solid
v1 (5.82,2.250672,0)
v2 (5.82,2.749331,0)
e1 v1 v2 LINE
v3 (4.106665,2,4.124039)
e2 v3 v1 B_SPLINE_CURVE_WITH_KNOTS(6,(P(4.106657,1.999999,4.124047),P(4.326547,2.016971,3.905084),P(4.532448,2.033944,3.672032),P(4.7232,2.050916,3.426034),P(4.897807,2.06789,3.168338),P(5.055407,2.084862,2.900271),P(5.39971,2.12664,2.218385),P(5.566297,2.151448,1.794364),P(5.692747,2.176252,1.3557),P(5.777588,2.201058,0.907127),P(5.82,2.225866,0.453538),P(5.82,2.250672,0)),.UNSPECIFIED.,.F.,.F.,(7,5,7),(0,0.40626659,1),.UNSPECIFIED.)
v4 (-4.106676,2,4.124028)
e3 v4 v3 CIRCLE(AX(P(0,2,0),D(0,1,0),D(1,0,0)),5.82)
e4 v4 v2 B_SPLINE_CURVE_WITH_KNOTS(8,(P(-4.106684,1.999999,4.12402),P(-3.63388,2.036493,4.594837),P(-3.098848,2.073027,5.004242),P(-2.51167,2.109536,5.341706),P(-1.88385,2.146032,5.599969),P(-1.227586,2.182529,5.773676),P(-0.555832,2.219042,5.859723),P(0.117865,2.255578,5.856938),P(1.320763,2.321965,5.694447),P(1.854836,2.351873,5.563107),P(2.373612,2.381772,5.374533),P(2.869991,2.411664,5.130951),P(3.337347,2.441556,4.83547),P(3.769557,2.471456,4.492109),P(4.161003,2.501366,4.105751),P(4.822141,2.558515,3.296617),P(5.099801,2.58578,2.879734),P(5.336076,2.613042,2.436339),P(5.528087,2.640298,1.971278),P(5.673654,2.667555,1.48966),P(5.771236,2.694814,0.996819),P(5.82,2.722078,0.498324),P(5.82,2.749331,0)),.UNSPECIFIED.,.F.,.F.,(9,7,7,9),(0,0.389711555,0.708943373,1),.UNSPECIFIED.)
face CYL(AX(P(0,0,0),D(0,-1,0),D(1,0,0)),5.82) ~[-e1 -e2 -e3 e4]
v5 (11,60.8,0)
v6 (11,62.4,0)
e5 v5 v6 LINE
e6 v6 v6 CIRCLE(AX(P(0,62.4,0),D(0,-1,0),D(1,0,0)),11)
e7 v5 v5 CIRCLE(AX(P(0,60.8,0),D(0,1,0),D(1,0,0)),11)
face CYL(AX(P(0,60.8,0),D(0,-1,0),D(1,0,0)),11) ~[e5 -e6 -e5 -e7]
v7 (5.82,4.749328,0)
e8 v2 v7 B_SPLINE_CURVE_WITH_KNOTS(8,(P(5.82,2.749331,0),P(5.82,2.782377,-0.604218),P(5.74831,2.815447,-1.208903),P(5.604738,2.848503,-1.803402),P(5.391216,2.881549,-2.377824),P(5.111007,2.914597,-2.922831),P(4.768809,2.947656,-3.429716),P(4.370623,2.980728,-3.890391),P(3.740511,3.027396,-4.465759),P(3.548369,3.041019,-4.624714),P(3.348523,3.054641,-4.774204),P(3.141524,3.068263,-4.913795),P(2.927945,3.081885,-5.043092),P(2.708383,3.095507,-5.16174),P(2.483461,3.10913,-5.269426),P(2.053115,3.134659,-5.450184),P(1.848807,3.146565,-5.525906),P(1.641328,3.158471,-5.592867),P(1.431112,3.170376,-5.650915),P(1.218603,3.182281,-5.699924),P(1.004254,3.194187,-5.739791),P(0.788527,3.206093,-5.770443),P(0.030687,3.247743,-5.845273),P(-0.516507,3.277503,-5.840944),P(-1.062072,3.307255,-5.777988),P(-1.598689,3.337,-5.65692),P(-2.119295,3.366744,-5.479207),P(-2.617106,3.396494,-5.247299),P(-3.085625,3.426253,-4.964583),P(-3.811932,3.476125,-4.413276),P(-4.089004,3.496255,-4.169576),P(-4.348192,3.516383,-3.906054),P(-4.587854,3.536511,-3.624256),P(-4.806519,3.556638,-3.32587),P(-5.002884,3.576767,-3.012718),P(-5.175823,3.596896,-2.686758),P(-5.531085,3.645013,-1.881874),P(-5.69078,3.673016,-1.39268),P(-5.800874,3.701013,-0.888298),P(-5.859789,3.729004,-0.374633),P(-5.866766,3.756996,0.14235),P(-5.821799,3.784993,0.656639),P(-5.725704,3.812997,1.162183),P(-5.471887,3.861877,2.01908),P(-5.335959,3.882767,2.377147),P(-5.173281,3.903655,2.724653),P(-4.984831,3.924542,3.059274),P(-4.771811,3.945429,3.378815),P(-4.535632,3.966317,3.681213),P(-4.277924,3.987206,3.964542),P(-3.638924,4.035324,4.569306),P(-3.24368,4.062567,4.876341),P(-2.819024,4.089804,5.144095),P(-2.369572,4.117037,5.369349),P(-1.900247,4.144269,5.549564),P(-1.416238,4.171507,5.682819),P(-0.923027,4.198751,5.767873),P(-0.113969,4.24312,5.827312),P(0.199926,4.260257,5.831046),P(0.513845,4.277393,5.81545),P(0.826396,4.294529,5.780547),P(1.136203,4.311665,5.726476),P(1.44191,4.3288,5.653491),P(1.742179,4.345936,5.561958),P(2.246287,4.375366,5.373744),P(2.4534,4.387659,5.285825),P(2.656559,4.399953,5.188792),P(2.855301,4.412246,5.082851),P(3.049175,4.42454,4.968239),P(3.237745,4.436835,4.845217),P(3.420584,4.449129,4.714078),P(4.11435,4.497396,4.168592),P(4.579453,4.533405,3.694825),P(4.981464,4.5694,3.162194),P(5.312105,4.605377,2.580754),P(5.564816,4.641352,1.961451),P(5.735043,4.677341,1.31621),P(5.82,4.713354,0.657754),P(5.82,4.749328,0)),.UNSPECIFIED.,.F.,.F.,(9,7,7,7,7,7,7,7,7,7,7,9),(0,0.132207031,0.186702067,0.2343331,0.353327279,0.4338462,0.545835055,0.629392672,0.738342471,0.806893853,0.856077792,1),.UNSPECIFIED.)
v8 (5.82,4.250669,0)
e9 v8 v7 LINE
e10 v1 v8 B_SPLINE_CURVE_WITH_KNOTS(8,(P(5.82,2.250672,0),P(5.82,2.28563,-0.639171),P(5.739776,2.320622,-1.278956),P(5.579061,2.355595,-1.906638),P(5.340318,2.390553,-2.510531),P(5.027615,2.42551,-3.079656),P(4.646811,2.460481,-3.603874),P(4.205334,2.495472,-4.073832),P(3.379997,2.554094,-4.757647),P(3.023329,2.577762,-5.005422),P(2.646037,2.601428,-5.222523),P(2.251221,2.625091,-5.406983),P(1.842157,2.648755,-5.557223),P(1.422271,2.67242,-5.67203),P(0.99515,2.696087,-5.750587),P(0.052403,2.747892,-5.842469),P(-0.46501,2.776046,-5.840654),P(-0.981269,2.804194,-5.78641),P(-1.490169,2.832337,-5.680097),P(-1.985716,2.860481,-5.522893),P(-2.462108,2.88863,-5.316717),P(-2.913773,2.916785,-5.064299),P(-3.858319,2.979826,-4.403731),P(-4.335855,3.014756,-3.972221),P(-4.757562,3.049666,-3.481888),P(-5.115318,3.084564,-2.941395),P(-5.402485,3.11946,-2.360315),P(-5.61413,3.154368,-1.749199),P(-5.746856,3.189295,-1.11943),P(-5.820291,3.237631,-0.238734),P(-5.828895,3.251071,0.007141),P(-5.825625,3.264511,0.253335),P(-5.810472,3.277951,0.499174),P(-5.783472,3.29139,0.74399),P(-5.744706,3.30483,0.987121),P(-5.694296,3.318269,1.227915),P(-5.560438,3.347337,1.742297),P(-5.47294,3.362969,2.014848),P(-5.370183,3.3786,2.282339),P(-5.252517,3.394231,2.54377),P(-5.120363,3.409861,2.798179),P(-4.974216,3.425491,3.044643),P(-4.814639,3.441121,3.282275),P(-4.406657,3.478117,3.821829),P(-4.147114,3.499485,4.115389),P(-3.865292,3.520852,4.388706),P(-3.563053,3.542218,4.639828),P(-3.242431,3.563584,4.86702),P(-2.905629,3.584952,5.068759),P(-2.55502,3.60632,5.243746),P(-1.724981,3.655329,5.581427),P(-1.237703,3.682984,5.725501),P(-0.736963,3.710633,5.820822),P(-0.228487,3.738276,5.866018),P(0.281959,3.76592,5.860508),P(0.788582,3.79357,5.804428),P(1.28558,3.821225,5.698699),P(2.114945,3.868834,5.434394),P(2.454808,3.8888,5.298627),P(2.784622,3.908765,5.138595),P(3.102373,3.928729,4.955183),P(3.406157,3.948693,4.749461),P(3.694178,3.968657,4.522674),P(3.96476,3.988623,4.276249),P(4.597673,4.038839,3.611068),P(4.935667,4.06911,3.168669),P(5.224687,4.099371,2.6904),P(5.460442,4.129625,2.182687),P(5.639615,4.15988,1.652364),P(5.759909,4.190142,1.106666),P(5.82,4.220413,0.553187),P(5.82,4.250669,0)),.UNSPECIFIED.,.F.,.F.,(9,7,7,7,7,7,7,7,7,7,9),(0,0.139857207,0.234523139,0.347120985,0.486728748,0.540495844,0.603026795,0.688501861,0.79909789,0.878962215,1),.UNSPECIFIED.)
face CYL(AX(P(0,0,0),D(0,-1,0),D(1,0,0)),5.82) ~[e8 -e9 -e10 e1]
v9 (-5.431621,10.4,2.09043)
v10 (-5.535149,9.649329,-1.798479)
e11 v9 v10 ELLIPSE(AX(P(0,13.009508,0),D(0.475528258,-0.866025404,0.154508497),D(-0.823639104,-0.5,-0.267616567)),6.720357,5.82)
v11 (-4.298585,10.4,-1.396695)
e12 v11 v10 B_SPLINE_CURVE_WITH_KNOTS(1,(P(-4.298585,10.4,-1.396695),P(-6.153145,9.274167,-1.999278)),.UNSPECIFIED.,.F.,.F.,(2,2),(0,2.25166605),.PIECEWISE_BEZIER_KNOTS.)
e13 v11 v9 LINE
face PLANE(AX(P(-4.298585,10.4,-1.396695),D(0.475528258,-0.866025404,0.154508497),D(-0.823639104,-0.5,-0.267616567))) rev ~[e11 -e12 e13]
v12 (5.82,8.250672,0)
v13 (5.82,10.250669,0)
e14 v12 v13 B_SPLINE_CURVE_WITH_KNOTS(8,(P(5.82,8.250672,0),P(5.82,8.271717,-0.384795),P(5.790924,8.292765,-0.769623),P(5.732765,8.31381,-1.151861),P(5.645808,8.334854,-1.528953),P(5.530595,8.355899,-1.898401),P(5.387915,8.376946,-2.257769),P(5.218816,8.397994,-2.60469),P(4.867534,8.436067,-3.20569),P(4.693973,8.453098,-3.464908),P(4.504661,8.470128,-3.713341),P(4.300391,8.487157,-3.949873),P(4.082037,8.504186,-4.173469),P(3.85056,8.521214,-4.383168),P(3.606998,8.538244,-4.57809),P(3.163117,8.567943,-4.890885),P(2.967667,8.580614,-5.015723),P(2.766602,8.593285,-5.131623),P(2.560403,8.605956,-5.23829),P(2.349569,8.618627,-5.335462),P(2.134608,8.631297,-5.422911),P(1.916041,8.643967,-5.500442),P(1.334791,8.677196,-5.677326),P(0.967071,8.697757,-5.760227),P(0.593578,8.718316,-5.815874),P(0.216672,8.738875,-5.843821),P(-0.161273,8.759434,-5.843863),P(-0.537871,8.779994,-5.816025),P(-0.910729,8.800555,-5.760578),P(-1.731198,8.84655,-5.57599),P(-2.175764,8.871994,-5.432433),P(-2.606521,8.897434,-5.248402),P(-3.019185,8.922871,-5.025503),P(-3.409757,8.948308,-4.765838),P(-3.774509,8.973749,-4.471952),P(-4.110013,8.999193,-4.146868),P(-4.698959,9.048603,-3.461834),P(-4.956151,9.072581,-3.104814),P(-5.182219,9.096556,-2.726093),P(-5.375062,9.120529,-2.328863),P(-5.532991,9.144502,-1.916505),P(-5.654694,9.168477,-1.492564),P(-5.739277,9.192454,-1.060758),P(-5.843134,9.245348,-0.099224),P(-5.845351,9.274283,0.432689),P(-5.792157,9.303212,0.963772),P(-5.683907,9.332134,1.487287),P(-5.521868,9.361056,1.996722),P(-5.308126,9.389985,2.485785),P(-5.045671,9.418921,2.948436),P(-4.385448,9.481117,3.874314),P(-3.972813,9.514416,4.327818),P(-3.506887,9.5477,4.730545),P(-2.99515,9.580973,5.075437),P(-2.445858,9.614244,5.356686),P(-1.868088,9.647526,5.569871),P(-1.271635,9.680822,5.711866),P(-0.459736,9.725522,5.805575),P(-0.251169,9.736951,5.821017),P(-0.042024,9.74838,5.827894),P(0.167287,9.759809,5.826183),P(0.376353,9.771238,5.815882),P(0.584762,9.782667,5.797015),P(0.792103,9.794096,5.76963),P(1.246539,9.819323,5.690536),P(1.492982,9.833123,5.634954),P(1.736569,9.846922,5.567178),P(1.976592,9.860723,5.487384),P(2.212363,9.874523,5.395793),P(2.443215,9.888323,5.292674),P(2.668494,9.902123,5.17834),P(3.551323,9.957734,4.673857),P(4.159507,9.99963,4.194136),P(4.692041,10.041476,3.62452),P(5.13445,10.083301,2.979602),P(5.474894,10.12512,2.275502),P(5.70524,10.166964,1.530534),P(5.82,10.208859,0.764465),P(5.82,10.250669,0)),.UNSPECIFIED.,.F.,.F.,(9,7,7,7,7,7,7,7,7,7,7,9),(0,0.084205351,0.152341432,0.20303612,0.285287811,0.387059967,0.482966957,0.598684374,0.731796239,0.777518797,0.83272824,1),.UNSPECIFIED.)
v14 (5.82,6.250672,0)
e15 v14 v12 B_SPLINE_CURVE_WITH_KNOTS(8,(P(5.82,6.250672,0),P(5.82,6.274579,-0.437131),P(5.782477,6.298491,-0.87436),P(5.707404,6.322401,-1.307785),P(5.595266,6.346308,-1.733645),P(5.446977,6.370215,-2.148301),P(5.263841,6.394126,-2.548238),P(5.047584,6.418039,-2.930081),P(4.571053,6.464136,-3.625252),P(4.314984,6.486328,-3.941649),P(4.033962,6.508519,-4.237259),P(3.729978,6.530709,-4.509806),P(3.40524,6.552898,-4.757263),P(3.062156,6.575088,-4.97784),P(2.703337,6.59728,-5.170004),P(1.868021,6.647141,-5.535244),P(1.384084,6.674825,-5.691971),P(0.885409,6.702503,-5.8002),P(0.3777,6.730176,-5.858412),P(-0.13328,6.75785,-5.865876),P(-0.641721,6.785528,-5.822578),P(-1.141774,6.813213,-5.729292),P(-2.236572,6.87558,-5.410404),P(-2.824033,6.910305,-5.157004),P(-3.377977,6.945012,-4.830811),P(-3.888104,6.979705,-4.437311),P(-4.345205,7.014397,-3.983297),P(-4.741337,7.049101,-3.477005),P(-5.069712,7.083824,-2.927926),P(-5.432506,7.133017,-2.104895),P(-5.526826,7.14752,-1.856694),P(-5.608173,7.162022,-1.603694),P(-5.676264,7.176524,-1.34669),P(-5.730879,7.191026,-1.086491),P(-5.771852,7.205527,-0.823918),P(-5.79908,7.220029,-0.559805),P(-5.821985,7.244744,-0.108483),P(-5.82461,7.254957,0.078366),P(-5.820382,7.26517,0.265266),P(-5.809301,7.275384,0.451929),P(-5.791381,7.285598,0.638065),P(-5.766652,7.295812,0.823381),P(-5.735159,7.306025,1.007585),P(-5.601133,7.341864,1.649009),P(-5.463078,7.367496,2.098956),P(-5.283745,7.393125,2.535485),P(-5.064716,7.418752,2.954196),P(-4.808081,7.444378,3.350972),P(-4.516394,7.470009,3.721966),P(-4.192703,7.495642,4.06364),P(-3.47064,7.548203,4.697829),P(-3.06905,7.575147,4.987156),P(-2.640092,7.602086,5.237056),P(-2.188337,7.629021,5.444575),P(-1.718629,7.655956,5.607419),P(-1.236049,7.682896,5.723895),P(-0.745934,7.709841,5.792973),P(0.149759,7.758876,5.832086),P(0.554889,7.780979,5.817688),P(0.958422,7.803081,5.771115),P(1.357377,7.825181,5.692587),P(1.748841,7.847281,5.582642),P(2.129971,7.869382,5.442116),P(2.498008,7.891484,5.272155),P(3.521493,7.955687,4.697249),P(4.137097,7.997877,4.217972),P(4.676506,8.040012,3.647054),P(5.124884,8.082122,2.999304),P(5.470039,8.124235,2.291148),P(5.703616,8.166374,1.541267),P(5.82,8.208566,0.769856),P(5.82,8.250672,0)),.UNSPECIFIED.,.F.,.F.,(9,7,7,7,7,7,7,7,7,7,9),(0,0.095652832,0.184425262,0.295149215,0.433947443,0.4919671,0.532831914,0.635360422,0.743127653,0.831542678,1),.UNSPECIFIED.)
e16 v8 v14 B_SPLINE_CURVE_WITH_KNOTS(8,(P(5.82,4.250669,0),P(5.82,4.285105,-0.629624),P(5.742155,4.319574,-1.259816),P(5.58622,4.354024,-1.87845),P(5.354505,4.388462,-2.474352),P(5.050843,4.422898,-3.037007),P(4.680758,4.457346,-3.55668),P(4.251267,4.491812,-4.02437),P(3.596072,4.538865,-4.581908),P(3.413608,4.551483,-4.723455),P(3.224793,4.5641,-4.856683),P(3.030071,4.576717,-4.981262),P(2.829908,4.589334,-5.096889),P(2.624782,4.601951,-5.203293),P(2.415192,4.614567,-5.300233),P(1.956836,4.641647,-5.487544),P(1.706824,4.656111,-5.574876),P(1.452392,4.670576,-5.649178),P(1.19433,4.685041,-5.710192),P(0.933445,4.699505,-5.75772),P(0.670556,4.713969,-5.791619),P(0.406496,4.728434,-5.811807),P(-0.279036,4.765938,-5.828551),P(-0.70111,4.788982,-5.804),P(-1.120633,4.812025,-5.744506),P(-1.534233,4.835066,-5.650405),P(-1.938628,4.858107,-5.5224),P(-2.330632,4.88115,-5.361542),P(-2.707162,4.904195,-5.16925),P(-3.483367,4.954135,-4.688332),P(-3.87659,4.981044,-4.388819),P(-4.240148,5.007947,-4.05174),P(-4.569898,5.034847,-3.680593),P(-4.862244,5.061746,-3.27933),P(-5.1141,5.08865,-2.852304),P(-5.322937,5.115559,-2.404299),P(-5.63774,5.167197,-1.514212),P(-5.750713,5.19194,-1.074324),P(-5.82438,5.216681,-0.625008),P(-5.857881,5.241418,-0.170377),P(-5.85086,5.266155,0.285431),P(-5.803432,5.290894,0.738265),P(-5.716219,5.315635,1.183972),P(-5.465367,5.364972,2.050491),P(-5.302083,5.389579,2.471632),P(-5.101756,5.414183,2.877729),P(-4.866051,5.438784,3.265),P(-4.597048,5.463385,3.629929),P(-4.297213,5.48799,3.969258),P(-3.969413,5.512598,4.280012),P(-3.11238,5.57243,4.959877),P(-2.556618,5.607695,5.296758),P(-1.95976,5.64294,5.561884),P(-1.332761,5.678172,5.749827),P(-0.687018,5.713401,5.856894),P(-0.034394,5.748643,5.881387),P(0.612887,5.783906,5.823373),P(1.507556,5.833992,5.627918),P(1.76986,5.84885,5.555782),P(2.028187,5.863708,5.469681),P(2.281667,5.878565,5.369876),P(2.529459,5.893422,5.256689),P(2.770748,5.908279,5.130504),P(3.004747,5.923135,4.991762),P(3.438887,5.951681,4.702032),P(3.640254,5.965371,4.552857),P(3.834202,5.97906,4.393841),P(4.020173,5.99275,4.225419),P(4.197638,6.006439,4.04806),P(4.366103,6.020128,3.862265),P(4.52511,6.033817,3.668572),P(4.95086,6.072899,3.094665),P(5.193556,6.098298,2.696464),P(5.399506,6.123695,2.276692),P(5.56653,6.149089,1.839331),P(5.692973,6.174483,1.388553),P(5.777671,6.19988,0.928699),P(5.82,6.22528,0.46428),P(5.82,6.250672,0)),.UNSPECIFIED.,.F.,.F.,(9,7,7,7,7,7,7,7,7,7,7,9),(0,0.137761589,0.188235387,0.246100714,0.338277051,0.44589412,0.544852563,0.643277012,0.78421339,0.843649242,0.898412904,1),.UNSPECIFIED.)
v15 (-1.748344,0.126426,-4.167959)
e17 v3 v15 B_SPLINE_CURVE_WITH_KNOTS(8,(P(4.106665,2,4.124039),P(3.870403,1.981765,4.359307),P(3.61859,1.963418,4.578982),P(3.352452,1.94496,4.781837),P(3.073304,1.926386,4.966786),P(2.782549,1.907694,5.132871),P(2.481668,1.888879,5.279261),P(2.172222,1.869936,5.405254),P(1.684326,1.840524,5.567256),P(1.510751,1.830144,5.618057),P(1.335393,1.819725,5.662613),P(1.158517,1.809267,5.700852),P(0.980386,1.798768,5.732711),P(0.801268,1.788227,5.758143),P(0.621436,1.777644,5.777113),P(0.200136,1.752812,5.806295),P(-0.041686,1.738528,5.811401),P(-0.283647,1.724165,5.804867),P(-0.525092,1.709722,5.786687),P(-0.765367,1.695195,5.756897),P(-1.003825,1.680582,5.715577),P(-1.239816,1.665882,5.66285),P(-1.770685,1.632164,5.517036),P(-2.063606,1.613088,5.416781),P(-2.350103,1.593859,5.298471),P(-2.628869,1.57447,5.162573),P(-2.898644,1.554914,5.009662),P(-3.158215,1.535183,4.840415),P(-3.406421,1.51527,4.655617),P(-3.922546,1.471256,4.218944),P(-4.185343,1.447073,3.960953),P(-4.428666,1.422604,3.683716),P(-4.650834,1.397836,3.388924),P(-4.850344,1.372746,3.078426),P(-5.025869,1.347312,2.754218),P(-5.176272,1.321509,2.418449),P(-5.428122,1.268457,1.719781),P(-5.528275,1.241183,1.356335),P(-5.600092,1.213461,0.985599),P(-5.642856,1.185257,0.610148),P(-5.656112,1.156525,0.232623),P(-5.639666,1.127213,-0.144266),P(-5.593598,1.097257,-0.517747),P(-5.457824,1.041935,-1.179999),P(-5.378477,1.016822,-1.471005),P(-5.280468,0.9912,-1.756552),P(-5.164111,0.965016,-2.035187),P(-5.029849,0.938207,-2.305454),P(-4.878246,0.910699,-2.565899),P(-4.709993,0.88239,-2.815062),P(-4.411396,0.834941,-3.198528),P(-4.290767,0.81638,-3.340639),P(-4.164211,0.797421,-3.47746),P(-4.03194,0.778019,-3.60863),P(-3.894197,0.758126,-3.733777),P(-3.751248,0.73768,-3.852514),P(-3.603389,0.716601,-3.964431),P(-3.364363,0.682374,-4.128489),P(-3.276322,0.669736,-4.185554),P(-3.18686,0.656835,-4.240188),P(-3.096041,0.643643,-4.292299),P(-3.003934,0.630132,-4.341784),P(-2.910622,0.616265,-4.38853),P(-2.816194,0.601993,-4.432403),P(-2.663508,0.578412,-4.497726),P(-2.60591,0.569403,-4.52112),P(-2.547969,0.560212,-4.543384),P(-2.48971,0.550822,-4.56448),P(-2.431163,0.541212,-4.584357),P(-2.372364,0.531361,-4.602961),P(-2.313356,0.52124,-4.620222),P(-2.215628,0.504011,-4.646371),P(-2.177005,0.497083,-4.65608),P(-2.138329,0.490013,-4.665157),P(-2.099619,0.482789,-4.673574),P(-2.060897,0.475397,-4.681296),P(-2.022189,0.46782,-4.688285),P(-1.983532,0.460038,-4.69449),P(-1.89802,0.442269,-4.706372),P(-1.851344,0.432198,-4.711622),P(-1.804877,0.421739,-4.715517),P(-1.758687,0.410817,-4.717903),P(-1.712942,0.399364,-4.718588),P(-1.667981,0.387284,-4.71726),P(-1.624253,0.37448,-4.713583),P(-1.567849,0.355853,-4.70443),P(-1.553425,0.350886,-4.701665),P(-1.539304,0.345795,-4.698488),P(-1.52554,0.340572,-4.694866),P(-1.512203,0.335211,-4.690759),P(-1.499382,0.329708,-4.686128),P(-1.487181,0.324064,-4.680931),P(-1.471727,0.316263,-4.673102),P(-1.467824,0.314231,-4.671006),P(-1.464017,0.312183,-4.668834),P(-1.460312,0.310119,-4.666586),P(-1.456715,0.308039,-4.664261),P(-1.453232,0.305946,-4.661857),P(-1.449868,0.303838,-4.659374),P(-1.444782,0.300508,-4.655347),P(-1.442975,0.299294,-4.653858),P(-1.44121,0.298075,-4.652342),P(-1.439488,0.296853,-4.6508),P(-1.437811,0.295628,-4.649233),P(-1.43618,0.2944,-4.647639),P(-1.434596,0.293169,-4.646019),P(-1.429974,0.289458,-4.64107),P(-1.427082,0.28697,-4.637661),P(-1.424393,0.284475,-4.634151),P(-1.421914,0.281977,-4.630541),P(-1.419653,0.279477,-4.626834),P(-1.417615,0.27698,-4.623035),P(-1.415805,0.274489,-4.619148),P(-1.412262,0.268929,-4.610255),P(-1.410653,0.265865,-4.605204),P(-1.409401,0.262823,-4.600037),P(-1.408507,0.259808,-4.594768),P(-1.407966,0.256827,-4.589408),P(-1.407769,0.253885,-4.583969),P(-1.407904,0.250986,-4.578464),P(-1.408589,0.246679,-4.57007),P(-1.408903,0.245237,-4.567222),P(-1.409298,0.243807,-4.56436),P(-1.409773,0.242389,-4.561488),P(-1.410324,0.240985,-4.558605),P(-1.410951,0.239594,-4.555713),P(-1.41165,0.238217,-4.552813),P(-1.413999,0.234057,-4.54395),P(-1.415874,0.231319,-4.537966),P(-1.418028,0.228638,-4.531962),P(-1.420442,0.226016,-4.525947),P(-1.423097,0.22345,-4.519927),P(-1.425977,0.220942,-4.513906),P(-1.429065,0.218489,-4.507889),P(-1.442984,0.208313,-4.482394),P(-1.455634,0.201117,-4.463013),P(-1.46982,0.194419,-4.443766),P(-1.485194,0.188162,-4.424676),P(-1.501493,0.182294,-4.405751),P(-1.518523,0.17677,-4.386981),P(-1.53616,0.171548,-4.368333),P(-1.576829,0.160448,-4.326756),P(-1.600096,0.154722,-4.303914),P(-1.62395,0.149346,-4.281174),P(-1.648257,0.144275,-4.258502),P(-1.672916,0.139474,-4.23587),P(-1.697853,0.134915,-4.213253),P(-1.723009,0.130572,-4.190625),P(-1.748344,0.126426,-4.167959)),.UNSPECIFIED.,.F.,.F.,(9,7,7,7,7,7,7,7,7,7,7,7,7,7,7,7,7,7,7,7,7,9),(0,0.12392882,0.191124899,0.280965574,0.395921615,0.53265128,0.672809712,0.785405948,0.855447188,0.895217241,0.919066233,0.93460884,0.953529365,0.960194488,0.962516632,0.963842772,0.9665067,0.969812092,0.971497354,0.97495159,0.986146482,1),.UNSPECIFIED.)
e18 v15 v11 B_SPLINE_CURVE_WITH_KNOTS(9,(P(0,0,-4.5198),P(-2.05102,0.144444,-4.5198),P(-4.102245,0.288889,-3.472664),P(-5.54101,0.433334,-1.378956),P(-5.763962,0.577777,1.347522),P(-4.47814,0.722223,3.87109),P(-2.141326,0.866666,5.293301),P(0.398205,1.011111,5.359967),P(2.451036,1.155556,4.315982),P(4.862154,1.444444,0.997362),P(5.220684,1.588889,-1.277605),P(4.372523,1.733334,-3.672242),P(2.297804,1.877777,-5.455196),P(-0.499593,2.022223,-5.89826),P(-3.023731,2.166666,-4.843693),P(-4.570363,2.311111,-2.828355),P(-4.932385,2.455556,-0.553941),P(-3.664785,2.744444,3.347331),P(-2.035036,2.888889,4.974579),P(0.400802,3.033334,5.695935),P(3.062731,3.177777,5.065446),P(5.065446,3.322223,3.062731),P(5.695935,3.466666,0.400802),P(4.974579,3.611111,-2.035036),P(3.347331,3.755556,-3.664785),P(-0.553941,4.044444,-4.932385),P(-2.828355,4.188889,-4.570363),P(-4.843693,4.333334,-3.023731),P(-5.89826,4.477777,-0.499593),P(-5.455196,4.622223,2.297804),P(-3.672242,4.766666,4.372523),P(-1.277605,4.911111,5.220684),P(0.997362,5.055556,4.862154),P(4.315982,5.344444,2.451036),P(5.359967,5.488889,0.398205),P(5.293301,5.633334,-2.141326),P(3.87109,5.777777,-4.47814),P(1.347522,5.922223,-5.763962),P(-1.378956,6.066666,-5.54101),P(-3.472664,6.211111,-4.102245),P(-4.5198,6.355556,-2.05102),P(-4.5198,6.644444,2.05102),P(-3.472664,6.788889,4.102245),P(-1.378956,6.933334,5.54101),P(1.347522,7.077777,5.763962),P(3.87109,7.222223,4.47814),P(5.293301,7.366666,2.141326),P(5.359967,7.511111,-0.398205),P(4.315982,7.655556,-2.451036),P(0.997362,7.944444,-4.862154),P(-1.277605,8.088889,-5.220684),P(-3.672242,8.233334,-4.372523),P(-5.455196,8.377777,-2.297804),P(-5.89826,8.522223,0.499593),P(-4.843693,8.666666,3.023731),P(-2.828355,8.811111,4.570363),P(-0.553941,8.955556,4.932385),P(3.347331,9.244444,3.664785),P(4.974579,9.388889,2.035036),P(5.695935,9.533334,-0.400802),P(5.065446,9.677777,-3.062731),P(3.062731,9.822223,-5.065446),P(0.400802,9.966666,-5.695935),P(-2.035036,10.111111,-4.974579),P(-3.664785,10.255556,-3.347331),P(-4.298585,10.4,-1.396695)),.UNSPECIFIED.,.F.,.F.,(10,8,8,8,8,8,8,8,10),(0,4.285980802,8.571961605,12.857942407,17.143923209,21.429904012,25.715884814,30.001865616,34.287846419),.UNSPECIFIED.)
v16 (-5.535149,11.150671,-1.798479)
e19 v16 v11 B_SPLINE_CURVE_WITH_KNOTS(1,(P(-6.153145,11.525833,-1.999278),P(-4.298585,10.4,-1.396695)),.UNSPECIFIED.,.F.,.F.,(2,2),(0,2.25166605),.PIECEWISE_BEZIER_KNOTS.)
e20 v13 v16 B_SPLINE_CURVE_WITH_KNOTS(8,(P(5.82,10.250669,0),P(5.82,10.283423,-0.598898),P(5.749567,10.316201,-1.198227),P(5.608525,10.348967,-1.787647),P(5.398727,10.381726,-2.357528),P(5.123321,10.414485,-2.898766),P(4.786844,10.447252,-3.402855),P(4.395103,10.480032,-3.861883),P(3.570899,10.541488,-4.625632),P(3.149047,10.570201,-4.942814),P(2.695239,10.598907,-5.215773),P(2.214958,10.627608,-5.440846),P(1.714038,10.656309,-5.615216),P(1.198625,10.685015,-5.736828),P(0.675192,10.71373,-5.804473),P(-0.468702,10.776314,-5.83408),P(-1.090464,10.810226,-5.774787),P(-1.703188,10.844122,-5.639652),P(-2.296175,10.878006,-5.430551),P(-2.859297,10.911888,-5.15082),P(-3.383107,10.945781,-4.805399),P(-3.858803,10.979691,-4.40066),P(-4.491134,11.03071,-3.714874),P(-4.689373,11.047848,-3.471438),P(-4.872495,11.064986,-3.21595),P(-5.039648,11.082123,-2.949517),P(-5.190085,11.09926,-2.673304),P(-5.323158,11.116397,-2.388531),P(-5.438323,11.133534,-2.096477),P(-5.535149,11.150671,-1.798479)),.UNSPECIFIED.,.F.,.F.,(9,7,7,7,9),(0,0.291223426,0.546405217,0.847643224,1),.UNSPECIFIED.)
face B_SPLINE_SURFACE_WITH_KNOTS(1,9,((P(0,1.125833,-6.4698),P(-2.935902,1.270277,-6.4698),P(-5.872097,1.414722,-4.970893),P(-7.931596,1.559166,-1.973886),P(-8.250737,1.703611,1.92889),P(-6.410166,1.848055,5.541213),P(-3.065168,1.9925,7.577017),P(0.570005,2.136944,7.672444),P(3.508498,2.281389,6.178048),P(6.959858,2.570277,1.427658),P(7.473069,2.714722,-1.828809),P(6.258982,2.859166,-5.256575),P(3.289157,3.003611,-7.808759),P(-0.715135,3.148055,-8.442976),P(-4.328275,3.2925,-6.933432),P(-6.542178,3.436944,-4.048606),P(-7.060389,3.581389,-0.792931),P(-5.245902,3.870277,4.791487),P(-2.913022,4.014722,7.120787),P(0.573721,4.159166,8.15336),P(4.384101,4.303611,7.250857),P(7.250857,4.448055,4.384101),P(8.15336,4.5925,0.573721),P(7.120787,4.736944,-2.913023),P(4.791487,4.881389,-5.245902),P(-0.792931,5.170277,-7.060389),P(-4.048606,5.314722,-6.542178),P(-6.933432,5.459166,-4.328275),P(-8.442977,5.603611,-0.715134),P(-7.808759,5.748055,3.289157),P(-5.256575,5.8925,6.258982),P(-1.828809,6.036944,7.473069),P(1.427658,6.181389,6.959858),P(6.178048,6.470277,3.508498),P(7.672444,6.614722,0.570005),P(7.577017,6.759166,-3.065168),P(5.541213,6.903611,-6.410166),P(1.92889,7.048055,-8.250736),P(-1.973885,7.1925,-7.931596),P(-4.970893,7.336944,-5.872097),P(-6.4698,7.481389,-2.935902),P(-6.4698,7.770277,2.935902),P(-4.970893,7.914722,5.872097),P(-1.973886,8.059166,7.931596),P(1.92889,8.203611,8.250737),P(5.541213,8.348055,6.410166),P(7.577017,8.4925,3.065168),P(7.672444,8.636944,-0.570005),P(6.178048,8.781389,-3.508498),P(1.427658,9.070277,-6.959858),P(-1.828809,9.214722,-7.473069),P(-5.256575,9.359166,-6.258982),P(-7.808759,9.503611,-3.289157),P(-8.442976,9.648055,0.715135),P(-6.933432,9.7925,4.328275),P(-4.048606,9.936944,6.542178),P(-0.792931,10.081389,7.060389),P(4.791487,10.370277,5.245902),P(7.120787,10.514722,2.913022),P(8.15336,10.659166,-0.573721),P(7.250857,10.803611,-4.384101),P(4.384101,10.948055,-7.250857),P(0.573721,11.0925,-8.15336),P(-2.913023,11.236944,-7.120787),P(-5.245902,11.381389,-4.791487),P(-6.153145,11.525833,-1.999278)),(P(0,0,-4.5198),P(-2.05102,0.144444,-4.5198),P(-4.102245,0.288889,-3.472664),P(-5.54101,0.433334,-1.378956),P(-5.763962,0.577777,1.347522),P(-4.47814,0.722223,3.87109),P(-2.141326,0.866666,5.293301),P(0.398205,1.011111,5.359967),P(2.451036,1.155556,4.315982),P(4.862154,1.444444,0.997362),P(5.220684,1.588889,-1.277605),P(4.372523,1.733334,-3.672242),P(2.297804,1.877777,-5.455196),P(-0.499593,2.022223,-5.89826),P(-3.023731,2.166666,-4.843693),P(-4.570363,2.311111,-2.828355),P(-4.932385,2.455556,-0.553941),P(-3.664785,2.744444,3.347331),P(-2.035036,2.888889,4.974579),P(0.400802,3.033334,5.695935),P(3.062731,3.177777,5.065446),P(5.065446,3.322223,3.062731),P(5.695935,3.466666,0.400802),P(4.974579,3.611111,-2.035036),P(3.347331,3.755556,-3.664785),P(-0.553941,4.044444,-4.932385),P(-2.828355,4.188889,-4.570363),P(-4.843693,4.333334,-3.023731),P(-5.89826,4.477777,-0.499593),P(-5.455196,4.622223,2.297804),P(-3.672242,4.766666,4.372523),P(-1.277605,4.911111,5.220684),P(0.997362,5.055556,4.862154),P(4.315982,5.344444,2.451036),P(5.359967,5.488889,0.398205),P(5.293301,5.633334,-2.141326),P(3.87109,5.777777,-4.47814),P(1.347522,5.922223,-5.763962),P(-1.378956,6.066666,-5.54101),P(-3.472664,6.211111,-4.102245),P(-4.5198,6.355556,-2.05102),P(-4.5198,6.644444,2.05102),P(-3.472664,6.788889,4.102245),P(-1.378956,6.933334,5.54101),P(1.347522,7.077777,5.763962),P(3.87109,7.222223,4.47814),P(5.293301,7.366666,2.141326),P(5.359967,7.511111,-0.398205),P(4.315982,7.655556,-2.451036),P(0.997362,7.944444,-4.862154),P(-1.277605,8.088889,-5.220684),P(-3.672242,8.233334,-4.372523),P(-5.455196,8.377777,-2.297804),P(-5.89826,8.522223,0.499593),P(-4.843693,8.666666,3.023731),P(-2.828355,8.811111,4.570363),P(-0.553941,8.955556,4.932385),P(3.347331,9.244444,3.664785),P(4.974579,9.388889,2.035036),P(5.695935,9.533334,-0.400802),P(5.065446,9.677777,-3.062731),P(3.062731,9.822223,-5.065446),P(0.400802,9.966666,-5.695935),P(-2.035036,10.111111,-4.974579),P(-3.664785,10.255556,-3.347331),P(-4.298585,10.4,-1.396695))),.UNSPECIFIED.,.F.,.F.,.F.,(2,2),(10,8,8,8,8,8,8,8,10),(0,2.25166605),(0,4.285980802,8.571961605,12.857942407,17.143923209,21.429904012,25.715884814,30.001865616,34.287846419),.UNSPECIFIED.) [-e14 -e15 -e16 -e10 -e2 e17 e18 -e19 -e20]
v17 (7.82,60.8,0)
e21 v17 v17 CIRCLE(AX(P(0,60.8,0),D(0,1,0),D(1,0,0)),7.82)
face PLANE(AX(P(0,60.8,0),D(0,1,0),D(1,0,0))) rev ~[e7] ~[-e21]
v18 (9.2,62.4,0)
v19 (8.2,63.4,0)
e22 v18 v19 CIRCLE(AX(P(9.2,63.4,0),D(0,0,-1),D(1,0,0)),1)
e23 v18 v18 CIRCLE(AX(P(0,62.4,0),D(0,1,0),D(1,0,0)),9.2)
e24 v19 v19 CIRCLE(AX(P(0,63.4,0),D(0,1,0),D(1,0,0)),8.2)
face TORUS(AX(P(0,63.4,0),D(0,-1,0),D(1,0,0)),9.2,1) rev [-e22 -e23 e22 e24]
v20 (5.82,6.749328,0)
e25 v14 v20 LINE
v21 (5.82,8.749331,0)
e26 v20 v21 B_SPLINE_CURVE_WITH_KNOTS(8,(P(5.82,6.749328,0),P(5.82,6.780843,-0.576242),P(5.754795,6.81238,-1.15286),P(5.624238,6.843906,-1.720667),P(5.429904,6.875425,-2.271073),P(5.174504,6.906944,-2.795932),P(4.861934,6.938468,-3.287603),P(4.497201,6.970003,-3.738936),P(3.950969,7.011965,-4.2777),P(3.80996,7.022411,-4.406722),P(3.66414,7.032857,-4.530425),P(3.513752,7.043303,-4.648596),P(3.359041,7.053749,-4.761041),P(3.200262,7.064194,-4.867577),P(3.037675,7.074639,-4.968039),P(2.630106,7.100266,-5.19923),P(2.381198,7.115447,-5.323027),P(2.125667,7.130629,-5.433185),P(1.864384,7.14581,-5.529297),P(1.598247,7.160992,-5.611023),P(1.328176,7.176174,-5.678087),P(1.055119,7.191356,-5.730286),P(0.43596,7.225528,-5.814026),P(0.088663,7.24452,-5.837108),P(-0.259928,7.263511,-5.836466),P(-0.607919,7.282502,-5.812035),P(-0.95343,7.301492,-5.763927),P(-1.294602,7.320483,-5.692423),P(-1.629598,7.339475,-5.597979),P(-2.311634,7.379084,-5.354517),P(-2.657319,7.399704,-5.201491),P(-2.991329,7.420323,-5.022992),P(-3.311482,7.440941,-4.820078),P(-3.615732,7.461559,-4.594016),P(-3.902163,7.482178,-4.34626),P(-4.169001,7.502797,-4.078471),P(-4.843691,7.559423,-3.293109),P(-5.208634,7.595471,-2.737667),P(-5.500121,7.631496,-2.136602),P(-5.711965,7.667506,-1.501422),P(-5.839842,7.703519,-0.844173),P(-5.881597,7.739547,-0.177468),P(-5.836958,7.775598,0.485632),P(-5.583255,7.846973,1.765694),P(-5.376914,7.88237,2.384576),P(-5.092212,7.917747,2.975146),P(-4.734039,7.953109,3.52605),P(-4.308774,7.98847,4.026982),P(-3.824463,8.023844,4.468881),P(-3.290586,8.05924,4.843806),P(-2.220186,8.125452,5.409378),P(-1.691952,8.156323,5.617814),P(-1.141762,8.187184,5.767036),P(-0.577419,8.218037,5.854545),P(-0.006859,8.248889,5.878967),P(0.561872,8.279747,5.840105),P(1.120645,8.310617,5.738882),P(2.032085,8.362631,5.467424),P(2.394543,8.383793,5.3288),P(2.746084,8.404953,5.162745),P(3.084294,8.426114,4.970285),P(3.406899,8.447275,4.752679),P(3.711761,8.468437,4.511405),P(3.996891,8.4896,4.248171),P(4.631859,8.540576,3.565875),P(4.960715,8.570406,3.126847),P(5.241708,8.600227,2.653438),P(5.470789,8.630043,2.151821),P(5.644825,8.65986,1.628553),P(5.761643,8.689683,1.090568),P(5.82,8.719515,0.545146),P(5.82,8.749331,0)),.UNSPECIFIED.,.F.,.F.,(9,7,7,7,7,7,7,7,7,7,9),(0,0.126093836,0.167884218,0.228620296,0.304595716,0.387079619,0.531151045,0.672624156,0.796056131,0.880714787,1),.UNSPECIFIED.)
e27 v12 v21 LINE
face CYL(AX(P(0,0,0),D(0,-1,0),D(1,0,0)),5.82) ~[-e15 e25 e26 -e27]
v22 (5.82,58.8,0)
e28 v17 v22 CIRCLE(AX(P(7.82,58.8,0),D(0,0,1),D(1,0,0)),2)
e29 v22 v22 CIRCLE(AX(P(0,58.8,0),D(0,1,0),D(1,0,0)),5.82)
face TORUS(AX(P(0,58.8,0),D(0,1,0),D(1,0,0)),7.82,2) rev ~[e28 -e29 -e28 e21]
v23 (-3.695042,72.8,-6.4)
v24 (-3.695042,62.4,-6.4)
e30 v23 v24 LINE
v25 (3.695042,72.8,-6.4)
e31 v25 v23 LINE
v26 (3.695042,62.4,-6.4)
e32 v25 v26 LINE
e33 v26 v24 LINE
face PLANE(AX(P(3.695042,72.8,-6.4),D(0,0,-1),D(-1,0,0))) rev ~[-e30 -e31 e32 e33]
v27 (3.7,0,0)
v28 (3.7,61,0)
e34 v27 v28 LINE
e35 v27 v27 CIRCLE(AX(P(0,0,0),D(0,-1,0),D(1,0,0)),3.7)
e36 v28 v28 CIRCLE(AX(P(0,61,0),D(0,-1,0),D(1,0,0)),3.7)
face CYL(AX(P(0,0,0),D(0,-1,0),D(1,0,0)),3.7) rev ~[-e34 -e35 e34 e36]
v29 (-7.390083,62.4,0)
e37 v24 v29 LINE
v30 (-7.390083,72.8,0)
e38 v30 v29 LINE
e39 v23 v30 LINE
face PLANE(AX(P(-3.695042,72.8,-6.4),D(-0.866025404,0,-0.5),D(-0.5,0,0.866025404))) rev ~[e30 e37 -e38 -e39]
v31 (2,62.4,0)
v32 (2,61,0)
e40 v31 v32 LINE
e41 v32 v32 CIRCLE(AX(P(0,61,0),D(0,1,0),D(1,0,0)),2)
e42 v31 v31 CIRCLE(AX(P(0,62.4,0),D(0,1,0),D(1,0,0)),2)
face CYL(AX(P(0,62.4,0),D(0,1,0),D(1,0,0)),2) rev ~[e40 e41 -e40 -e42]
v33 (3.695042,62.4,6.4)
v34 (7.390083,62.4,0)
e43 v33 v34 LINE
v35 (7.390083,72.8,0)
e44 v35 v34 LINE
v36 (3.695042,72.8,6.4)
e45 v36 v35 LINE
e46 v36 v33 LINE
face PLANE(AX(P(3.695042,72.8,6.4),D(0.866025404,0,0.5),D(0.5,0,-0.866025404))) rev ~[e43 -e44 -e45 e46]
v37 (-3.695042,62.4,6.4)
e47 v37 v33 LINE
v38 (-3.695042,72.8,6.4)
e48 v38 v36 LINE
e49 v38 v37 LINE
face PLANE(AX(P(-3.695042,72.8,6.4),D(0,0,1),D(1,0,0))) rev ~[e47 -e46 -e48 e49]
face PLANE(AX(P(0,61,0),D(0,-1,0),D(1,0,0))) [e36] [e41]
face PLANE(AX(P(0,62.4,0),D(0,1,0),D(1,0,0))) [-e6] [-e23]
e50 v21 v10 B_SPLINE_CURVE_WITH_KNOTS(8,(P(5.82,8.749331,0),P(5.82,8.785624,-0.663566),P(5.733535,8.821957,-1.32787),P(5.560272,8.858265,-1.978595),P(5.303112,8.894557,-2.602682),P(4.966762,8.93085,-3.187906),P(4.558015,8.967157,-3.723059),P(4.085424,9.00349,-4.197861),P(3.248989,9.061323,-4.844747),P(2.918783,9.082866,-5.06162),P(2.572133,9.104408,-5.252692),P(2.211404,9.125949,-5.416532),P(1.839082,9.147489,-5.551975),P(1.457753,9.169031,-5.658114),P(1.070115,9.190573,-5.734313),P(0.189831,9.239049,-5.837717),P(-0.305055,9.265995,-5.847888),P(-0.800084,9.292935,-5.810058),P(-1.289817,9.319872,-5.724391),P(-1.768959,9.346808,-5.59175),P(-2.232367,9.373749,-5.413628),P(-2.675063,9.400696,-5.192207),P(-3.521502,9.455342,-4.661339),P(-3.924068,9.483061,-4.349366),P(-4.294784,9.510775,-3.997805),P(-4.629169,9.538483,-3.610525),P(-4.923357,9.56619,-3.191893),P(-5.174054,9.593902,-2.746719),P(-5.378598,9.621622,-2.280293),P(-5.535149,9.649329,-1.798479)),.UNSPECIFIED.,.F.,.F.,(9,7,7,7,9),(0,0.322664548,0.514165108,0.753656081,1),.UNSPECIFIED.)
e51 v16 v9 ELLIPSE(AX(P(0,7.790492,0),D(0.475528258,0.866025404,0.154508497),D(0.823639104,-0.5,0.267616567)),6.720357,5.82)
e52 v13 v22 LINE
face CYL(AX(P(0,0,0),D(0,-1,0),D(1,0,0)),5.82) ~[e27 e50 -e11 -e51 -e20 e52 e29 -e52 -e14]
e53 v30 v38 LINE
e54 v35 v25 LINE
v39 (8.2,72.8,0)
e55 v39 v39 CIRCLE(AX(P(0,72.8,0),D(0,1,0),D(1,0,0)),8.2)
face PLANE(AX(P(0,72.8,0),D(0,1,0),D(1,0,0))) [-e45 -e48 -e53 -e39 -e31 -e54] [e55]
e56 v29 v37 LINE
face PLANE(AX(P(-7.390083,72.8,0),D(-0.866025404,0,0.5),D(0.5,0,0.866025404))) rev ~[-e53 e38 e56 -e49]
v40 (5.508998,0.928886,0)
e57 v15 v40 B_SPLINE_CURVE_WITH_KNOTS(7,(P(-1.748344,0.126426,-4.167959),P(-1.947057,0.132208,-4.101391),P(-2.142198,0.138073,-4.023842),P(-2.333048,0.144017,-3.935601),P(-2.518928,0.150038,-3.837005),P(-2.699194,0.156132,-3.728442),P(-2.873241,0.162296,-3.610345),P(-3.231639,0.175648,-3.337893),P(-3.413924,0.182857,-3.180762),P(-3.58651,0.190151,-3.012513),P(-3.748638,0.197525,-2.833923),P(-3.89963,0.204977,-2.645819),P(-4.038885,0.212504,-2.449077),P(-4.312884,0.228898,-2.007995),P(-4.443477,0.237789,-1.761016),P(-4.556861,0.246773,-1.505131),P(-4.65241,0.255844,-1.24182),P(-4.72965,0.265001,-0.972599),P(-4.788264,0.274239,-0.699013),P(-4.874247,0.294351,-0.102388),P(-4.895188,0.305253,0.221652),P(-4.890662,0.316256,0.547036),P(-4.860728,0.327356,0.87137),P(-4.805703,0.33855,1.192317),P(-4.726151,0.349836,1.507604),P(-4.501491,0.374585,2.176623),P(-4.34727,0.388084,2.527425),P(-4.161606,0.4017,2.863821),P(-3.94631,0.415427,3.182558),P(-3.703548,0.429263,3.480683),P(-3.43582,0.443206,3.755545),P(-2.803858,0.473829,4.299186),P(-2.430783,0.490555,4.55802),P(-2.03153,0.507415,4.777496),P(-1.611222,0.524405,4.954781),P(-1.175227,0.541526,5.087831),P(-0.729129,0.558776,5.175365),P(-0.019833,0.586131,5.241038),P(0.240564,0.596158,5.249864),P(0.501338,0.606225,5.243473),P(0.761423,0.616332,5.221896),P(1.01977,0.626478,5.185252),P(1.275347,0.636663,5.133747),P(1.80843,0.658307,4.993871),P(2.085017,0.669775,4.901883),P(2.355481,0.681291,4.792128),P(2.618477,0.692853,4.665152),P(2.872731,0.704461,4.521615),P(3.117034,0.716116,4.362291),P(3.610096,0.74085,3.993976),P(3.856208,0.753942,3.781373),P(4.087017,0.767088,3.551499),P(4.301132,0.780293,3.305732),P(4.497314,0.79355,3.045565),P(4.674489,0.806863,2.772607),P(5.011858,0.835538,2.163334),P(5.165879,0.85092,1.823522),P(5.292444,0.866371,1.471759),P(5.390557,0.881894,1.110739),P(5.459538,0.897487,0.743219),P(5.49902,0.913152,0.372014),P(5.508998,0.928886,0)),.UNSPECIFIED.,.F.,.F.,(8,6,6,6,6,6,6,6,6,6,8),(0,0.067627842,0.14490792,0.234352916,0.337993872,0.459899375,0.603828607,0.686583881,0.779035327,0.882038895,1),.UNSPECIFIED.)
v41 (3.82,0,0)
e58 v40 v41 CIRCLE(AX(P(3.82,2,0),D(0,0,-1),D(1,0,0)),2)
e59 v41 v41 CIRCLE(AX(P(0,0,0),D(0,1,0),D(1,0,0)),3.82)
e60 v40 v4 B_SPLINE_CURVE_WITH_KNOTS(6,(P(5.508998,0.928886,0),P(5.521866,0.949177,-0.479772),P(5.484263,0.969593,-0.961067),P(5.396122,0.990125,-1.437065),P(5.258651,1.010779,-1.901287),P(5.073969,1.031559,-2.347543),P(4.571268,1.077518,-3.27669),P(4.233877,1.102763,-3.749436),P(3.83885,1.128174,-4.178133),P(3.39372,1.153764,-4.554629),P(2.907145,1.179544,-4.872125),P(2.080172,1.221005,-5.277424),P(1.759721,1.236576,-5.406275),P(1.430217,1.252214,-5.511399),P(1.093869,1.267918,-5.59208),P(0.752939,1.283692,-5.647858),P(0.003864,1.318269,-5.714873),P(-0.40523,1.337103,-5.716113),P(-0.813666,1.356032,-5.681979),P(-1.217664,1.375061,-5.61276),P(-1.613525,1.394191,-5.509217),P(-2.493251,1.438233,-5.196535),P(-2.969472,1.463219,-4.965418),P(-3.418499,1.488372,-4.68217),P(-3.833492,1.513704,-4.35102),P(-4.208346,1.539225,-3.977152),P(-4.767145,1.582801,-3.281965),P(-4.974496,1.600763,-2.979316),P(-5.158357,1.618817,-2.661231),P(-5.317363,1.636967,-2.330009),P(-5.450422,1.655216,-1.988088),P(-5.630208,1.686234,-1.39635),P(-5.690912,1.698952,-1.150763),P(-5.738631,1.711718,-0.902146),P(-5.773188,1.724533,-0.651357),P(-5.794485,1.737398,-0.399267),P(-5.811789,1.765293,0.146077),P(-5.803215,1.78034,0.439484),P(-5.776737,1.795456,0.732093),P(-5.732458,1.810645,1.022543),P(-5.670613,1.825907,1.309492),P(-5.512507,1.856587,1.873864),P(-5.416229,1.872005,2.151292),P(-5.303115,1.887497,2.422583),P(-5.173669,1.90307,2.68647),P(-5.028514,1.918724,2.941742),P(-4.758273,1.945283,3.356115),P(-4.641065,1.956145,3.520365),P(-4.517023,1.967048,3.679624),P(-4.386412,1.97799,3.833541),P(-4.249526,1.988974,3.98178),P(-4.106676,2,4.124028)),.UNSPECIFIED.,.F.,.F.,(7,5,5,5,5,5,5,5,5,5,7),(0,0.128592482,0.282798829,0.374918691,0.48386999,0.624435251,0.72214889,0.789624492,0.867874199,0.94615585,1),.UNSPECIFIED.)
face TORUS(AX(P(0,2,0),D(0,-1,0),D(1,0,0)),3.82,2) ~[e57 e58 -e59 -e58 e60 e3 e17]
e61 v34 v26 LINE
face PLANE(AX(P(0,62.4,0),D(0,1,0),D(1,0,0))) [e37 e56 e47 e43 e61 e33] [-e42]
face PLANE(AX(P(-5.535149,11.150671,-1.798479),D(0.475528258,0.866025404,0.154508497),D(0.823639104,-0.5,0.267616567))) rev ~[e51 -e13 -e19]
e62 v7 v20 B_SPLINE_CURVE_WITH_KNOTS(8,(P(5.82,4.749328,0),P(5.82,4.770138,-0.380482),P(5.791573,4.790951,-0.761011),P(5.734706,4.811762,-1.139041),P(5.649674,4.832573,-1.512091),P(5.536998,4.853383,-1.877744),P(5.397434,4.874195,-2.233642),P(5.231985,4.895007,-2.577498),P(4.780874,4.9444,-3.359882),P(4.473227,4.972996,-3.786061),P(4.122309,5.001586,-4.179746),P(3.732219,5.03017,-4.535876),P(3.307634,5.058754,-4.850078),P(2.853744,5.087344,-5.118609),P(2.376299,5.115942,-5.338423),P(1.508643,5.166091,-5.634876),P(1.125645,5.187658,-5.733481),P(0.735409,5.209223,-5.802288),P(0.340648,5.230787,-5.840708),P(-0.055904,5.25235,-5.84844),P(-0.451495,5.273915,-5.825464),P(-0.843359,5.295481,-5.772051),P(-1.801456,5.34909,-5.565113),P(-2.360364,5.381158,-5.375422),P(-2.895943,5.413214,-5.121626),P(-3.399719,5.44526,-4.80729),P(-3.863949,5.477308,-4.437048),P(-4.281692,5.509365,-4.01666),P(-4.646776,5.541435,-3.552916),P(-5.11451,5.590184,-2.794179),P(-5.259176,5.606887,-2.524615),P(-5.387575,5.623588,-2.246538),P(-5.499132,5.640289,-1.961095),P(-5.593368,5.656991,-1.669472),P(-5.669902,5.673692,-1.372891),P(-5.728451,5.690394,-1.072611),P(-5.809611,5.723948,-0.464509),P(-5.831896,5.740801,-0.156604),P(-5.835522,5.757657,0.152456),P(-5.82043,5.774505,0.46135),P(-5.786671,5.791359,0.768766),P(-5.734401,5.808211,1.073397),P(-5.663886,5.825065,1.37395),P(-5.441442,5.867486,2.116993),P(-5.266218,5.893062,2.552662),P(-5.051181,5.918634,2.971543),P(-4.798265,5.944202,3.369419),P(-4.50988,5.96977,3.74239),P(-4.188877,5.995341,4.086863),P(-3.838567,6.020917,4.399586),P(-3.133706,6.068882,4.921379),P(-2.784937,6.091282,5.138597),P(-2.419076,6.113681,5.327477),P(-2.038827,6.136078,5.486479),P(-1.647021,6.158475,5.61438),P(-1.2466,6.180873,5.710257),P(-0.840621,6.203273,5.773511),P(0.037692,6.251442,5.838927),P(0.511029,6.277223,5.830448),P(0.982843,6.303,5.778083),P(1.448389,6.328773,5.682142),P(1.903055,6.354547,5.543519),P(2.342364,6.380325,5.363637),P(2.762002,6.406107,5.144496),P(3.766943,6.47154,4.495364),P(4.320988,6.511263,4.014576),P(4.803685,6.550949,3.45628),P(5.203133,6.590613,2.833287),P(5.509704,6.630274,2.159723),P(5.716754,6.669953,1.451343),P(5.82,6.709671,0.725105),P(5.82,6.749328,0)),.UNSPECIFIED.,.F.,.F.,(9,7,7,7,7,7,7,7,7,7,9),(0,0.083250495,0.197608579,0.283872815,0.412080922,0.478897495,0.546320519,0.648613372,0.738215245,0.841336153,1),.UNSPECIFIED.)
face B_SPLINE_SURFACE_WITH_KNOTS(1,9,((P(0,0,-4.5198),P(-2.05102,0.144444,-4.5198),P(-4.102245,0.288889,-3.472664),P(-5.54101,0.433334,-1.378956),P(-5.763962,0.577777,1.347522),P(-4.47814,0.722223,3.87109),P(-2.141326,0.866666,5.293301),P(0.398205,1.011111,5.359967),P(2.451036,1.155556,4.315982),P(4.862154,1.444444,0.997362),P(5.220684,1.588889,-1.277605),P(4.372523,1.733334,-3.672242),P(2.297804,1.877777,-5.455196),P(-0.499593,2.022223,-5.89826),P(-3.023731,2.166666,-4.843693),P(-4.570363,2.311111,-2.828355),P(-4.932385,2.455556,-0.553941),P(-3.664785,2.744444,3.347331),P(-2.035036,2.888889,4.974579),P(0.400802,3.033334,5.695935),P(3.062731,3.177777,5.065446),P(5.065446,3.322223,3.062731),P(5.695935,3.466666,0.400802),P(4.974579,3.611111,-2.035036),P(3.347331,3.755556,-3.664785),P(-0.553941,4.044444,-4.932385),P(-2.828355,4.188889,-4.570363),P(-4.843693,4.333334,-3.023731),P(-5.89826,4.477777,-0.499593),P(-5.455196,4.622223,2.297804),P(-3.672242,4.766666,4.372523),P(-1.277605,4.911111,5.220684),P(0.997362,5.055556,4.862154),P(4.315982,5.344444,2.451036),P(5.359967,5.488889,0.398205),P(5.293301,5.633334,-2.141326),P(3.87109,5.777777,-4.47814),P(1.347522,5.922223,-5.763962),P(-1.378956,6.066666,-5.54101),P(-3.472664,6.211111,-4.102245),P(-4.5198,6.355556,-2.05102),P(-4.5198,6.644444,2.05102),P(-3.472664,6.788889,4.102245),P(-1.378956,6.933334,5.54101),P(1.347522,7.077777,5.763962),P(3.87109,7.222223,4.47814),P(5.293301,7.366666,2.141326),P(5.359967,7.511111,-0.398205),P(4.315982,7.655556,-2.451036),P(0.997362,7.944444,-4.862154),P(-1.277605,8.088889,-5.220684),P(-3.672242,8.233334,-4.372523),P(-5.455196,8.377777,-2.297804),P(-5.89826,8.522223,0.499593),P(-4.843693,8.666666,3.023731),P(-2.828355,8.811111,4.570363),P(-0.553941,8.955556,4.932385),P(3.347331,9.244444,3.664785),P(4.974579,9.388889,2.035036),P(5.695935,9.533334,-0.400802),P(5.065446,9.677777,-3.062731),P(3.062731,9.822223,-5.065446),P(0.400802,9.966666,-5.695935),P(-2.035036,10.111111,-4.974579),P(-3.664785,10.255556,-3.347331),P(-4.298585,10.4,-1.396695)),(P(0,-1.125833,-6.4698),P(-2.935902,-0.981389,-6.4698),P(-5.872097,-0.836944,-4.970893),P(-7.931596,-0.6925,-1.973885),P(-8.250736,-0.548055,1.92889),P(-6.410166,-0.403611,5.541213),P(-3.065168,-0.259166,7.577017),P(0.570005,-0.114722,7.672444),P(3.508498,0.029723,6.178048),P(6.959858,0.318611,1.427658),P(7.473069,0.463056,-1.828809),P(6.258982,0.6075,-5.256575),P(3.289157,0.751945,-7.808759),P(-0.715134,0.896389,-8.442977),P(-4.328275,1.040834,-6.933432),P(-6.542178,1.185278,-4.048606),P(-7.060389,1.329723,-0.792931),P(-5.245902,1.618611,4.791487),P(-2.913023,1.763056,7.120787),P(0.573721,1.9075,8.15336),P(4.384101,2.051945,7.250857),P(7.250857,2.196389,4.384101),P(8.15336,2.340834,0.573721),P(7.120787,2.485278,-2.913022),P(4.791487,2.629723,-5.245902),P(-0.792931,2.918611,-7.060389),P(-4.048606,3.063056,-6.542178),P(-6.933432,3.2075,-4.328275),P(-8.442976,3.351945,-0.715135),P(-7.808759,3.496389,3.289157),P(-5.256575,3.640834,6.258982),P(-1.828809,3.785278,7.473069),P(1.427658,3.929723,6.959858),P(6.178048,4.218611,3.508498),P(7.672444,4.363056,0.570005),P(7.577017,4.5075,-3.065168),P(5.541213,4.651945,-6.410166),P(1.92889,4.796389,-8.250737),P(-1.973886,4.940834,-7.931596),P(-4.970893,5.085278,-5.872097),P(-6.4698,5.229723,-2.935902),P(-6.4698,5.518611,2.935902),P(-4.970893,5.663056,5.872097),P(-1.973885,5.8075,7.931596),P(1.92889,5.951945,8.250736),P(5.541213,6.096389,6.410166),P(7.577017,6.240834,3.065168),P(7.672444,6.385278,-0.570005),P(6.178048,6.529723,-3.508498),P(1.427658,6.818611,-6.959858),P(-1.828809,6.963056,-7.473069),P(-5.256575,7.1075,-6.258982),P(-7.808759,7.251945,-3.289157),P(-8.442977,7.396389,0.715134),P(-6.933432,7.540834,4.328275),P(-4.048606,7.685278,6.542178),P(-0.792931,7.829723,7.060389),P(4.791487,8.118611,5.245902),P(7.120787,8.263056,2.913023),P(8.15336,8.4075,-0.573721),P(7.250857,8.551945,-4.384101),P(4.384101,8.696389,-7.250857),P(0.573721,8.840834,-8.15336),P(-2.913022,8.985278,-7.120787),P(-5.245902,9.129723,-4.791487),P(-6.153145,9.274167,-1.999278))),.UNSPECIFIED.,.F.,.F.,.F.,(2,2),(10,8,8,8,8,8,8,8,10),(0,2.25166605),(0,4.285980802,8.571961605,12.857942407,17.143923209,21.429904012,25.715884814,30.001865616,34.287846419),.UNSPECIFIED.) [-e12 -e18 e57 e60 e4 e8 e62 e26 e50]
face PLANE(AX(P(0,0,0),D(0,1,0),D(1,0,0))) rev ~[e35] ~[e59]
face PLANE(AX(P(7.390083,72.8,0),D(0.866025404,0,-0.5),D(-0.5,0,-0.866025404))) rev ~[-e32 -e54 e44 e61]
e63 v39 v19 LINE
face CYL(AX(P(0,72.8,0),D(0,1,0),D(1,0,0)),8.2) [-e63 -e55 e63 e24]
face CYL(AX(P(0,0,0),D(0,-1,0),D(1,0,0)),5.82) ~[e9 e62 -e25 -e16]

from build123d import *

# Parameters (mm, degrees)
ESBO_O1_R                       = 5.82
RESSALTO_EXTRUS_O1_DEPTH        = 60.8
ESBO_O2_R                       = 11
RESSALTO_EXTRUS_O2_DEPTH        = 12
FILETE1_R                       = 2
CORTE_EXTRUS_O1_DEPTH           = 10.4
ESBO_O4_R                       = 3.7
CORTE_EXTRUS_O2_DEPTH           = 61
ESBO_O5_R                       = 2
CORTE_EXTRUS_O3_DEPTH           = 2
FILETE2_R                       = 2
VARREDURA_DE_CORTE1_PITCH       = 2
VARREDURA_DE_CORTE1_HEIGHT      = 10.4
VARREDURA_DE_CORTE1_RADIUS      = 5.82
VARREDURA_DE_CORTE1_START_ANGLE = -180
ESBO_O10_OUTSIDE_W              = 39.834
ESBO_O10_OUTSIDE_H              = 39.834
ESBO_O10_OUTSIDE_R              = 8.2
CORTE_EXTRUS_O4_DEPTH           = 10.4
FILETE3_R                       = 1
CORTE_EXTRUS_O6_DEPTH           = 10


with BuildPart() as part:
    # Esboço1 → Ressalto-extrusão1 (new body)
    with BuildSketch(Plane(origin=(0, 0, 0), x_dir=(1, 0, 0), z_dir=(0, 1, 0))):
        Circle(ESBO_O1_R)
    extrude(amount=RESSALTO_EXTRUS_O1_DEPTH)

    # Esboço2 → Ressalto-extrusão2 (add)
    with BuildSketch(Plane(origin=(0, 60.8, 0), x_dir=(1, 0, 0), z_dir=(0, 1, 0))):
        Circle(ESBO_O2_R)
    extrude(amount=RESSALTO_EXTRUS_O2_DEPTH)

    # Filete1
    filete1_edges = [part.edges().sort_by_distance(p)[0] for p in [
        (-5.82, 60.8, 0),
    ]]
    fillet(filete1_edges, radius=FILETE1_R)

    # Esboço3 → Corte-extrusão1 (cut)
    with BuildSketch(Plane(origin=(0, 72.8, 0), x_dir=(1, 0, 0), z_dir=(0, 1, 0))):
        Polygon((-7.390083446, 0), (-3.695041723, -6.4), (3.695041723, -6.4), (7.390083446, 0), (3.695041723, 6.4), (-3.695041723, 6.4), align=None)
    extrude(amount=-CORTE_EXTRUS_O1_DEPTH, mode=Mode.SUBTRACT)

    # Esboço4 → Corte-extrusão2 (cut)
    with BuildSketch(Plane.XZ):
        Circle(ESBO_O4_R)
    extrude(amount=-CORTE_EXTRUS_O2_DEPTH, mode=Mode.SUBTRACT)

    # Esboço5 → Corte-extrusão3 (cut)
    with BuildSketch(Plane(origin=(0, 62.4, 0), x_dir=(1, 0, 0), z_dir=(0, 1, 0))):
        Circle(ESBO_O5_R)
    extrude(amount=-CORTE_EXTRUS_O3_DEPTH, mode=Mode.SUBTRACT)

    # Filete2
    filete2_edges = [part.edges().sort_by_distance(p)[0] for p in [
        (-5.82, 0, 0),
    ]]
    fillet(filete2_edges, radius=FILETE2_R)

    # Varredura de corte1: sweep along a helix
    with BuildLine() as varredura_de_corte1_path:
        add(Helix(VARREDURA_DE_CORTE1_PITCH, VARREDURA_DE_CORTE1_HEIGHT, VARREDURA_DE_CORTE1_RADIUS, center=(0, 0, 0), direction=(0, 1, 0), mode=Mode.PRIVATE).rotate(Axis((0, 0, 0), (0, 1, 0)), VARREDURA_DE_CORTE1_START_ANGLE))
    # Esboço9 → Varredura de corte1 (sweep, cut)
    with BuildSketch(Plane(origin=(0, 0, 0), x_dir=(0, 0, -1), z_dir=(1, 0, 0))):
        Polygon((4.5198, 0), (6.4698, -1.125833025), (6.4698, 1.125833025), align=None)
    sweep(path=varredura_de_corte1_path.line, is_frenet=True, mode=Mode.SUBTRACT)

    # Esboço10 outside → Corte-extrusão4 (cut)
    with BuildSketch(Plane(origin=(0, 72.8, 0), x_dir=(1, 0, 0), z_dir=(0, 1, 0))):
        Rectangle(ESBO_O10_OUTSIDE_W, ESBO_O10_OUTSIDE_H)
        Circle(ESBO_O10_OUTSIDE_R, mode=Mode.SUBTRACT)
    extrude(amount=-CORTE_EXTRUS_O4_DEPTH, mode=Mode.SUBTRACT)

    # Filete3
    filete3_edges = [part.edges().sort_by_distance(p)[0] for p in [
        (-8.2, 62.4, 0),
    ]]
    fillet(filete3_edges, radius=FILETE3_R)

    # Esboço12 → Corte-extrusão6 (cut)
    with BuildSketch(Plane(origin=(0, 0, 0), x_dir=(-0.951056516, 0, -0.309016994), z_dir=(0.309016994, 0, -0.951056516))):
        Polygon((5.82, 9.64932918), (5.82, 11.15067082), (4.5198, 10.4), align=None)
    extrude(amount=-CORTE_EXTRUS_O6_DEPTH, mode=Mode.SUBTRACT)


solid = part.part
